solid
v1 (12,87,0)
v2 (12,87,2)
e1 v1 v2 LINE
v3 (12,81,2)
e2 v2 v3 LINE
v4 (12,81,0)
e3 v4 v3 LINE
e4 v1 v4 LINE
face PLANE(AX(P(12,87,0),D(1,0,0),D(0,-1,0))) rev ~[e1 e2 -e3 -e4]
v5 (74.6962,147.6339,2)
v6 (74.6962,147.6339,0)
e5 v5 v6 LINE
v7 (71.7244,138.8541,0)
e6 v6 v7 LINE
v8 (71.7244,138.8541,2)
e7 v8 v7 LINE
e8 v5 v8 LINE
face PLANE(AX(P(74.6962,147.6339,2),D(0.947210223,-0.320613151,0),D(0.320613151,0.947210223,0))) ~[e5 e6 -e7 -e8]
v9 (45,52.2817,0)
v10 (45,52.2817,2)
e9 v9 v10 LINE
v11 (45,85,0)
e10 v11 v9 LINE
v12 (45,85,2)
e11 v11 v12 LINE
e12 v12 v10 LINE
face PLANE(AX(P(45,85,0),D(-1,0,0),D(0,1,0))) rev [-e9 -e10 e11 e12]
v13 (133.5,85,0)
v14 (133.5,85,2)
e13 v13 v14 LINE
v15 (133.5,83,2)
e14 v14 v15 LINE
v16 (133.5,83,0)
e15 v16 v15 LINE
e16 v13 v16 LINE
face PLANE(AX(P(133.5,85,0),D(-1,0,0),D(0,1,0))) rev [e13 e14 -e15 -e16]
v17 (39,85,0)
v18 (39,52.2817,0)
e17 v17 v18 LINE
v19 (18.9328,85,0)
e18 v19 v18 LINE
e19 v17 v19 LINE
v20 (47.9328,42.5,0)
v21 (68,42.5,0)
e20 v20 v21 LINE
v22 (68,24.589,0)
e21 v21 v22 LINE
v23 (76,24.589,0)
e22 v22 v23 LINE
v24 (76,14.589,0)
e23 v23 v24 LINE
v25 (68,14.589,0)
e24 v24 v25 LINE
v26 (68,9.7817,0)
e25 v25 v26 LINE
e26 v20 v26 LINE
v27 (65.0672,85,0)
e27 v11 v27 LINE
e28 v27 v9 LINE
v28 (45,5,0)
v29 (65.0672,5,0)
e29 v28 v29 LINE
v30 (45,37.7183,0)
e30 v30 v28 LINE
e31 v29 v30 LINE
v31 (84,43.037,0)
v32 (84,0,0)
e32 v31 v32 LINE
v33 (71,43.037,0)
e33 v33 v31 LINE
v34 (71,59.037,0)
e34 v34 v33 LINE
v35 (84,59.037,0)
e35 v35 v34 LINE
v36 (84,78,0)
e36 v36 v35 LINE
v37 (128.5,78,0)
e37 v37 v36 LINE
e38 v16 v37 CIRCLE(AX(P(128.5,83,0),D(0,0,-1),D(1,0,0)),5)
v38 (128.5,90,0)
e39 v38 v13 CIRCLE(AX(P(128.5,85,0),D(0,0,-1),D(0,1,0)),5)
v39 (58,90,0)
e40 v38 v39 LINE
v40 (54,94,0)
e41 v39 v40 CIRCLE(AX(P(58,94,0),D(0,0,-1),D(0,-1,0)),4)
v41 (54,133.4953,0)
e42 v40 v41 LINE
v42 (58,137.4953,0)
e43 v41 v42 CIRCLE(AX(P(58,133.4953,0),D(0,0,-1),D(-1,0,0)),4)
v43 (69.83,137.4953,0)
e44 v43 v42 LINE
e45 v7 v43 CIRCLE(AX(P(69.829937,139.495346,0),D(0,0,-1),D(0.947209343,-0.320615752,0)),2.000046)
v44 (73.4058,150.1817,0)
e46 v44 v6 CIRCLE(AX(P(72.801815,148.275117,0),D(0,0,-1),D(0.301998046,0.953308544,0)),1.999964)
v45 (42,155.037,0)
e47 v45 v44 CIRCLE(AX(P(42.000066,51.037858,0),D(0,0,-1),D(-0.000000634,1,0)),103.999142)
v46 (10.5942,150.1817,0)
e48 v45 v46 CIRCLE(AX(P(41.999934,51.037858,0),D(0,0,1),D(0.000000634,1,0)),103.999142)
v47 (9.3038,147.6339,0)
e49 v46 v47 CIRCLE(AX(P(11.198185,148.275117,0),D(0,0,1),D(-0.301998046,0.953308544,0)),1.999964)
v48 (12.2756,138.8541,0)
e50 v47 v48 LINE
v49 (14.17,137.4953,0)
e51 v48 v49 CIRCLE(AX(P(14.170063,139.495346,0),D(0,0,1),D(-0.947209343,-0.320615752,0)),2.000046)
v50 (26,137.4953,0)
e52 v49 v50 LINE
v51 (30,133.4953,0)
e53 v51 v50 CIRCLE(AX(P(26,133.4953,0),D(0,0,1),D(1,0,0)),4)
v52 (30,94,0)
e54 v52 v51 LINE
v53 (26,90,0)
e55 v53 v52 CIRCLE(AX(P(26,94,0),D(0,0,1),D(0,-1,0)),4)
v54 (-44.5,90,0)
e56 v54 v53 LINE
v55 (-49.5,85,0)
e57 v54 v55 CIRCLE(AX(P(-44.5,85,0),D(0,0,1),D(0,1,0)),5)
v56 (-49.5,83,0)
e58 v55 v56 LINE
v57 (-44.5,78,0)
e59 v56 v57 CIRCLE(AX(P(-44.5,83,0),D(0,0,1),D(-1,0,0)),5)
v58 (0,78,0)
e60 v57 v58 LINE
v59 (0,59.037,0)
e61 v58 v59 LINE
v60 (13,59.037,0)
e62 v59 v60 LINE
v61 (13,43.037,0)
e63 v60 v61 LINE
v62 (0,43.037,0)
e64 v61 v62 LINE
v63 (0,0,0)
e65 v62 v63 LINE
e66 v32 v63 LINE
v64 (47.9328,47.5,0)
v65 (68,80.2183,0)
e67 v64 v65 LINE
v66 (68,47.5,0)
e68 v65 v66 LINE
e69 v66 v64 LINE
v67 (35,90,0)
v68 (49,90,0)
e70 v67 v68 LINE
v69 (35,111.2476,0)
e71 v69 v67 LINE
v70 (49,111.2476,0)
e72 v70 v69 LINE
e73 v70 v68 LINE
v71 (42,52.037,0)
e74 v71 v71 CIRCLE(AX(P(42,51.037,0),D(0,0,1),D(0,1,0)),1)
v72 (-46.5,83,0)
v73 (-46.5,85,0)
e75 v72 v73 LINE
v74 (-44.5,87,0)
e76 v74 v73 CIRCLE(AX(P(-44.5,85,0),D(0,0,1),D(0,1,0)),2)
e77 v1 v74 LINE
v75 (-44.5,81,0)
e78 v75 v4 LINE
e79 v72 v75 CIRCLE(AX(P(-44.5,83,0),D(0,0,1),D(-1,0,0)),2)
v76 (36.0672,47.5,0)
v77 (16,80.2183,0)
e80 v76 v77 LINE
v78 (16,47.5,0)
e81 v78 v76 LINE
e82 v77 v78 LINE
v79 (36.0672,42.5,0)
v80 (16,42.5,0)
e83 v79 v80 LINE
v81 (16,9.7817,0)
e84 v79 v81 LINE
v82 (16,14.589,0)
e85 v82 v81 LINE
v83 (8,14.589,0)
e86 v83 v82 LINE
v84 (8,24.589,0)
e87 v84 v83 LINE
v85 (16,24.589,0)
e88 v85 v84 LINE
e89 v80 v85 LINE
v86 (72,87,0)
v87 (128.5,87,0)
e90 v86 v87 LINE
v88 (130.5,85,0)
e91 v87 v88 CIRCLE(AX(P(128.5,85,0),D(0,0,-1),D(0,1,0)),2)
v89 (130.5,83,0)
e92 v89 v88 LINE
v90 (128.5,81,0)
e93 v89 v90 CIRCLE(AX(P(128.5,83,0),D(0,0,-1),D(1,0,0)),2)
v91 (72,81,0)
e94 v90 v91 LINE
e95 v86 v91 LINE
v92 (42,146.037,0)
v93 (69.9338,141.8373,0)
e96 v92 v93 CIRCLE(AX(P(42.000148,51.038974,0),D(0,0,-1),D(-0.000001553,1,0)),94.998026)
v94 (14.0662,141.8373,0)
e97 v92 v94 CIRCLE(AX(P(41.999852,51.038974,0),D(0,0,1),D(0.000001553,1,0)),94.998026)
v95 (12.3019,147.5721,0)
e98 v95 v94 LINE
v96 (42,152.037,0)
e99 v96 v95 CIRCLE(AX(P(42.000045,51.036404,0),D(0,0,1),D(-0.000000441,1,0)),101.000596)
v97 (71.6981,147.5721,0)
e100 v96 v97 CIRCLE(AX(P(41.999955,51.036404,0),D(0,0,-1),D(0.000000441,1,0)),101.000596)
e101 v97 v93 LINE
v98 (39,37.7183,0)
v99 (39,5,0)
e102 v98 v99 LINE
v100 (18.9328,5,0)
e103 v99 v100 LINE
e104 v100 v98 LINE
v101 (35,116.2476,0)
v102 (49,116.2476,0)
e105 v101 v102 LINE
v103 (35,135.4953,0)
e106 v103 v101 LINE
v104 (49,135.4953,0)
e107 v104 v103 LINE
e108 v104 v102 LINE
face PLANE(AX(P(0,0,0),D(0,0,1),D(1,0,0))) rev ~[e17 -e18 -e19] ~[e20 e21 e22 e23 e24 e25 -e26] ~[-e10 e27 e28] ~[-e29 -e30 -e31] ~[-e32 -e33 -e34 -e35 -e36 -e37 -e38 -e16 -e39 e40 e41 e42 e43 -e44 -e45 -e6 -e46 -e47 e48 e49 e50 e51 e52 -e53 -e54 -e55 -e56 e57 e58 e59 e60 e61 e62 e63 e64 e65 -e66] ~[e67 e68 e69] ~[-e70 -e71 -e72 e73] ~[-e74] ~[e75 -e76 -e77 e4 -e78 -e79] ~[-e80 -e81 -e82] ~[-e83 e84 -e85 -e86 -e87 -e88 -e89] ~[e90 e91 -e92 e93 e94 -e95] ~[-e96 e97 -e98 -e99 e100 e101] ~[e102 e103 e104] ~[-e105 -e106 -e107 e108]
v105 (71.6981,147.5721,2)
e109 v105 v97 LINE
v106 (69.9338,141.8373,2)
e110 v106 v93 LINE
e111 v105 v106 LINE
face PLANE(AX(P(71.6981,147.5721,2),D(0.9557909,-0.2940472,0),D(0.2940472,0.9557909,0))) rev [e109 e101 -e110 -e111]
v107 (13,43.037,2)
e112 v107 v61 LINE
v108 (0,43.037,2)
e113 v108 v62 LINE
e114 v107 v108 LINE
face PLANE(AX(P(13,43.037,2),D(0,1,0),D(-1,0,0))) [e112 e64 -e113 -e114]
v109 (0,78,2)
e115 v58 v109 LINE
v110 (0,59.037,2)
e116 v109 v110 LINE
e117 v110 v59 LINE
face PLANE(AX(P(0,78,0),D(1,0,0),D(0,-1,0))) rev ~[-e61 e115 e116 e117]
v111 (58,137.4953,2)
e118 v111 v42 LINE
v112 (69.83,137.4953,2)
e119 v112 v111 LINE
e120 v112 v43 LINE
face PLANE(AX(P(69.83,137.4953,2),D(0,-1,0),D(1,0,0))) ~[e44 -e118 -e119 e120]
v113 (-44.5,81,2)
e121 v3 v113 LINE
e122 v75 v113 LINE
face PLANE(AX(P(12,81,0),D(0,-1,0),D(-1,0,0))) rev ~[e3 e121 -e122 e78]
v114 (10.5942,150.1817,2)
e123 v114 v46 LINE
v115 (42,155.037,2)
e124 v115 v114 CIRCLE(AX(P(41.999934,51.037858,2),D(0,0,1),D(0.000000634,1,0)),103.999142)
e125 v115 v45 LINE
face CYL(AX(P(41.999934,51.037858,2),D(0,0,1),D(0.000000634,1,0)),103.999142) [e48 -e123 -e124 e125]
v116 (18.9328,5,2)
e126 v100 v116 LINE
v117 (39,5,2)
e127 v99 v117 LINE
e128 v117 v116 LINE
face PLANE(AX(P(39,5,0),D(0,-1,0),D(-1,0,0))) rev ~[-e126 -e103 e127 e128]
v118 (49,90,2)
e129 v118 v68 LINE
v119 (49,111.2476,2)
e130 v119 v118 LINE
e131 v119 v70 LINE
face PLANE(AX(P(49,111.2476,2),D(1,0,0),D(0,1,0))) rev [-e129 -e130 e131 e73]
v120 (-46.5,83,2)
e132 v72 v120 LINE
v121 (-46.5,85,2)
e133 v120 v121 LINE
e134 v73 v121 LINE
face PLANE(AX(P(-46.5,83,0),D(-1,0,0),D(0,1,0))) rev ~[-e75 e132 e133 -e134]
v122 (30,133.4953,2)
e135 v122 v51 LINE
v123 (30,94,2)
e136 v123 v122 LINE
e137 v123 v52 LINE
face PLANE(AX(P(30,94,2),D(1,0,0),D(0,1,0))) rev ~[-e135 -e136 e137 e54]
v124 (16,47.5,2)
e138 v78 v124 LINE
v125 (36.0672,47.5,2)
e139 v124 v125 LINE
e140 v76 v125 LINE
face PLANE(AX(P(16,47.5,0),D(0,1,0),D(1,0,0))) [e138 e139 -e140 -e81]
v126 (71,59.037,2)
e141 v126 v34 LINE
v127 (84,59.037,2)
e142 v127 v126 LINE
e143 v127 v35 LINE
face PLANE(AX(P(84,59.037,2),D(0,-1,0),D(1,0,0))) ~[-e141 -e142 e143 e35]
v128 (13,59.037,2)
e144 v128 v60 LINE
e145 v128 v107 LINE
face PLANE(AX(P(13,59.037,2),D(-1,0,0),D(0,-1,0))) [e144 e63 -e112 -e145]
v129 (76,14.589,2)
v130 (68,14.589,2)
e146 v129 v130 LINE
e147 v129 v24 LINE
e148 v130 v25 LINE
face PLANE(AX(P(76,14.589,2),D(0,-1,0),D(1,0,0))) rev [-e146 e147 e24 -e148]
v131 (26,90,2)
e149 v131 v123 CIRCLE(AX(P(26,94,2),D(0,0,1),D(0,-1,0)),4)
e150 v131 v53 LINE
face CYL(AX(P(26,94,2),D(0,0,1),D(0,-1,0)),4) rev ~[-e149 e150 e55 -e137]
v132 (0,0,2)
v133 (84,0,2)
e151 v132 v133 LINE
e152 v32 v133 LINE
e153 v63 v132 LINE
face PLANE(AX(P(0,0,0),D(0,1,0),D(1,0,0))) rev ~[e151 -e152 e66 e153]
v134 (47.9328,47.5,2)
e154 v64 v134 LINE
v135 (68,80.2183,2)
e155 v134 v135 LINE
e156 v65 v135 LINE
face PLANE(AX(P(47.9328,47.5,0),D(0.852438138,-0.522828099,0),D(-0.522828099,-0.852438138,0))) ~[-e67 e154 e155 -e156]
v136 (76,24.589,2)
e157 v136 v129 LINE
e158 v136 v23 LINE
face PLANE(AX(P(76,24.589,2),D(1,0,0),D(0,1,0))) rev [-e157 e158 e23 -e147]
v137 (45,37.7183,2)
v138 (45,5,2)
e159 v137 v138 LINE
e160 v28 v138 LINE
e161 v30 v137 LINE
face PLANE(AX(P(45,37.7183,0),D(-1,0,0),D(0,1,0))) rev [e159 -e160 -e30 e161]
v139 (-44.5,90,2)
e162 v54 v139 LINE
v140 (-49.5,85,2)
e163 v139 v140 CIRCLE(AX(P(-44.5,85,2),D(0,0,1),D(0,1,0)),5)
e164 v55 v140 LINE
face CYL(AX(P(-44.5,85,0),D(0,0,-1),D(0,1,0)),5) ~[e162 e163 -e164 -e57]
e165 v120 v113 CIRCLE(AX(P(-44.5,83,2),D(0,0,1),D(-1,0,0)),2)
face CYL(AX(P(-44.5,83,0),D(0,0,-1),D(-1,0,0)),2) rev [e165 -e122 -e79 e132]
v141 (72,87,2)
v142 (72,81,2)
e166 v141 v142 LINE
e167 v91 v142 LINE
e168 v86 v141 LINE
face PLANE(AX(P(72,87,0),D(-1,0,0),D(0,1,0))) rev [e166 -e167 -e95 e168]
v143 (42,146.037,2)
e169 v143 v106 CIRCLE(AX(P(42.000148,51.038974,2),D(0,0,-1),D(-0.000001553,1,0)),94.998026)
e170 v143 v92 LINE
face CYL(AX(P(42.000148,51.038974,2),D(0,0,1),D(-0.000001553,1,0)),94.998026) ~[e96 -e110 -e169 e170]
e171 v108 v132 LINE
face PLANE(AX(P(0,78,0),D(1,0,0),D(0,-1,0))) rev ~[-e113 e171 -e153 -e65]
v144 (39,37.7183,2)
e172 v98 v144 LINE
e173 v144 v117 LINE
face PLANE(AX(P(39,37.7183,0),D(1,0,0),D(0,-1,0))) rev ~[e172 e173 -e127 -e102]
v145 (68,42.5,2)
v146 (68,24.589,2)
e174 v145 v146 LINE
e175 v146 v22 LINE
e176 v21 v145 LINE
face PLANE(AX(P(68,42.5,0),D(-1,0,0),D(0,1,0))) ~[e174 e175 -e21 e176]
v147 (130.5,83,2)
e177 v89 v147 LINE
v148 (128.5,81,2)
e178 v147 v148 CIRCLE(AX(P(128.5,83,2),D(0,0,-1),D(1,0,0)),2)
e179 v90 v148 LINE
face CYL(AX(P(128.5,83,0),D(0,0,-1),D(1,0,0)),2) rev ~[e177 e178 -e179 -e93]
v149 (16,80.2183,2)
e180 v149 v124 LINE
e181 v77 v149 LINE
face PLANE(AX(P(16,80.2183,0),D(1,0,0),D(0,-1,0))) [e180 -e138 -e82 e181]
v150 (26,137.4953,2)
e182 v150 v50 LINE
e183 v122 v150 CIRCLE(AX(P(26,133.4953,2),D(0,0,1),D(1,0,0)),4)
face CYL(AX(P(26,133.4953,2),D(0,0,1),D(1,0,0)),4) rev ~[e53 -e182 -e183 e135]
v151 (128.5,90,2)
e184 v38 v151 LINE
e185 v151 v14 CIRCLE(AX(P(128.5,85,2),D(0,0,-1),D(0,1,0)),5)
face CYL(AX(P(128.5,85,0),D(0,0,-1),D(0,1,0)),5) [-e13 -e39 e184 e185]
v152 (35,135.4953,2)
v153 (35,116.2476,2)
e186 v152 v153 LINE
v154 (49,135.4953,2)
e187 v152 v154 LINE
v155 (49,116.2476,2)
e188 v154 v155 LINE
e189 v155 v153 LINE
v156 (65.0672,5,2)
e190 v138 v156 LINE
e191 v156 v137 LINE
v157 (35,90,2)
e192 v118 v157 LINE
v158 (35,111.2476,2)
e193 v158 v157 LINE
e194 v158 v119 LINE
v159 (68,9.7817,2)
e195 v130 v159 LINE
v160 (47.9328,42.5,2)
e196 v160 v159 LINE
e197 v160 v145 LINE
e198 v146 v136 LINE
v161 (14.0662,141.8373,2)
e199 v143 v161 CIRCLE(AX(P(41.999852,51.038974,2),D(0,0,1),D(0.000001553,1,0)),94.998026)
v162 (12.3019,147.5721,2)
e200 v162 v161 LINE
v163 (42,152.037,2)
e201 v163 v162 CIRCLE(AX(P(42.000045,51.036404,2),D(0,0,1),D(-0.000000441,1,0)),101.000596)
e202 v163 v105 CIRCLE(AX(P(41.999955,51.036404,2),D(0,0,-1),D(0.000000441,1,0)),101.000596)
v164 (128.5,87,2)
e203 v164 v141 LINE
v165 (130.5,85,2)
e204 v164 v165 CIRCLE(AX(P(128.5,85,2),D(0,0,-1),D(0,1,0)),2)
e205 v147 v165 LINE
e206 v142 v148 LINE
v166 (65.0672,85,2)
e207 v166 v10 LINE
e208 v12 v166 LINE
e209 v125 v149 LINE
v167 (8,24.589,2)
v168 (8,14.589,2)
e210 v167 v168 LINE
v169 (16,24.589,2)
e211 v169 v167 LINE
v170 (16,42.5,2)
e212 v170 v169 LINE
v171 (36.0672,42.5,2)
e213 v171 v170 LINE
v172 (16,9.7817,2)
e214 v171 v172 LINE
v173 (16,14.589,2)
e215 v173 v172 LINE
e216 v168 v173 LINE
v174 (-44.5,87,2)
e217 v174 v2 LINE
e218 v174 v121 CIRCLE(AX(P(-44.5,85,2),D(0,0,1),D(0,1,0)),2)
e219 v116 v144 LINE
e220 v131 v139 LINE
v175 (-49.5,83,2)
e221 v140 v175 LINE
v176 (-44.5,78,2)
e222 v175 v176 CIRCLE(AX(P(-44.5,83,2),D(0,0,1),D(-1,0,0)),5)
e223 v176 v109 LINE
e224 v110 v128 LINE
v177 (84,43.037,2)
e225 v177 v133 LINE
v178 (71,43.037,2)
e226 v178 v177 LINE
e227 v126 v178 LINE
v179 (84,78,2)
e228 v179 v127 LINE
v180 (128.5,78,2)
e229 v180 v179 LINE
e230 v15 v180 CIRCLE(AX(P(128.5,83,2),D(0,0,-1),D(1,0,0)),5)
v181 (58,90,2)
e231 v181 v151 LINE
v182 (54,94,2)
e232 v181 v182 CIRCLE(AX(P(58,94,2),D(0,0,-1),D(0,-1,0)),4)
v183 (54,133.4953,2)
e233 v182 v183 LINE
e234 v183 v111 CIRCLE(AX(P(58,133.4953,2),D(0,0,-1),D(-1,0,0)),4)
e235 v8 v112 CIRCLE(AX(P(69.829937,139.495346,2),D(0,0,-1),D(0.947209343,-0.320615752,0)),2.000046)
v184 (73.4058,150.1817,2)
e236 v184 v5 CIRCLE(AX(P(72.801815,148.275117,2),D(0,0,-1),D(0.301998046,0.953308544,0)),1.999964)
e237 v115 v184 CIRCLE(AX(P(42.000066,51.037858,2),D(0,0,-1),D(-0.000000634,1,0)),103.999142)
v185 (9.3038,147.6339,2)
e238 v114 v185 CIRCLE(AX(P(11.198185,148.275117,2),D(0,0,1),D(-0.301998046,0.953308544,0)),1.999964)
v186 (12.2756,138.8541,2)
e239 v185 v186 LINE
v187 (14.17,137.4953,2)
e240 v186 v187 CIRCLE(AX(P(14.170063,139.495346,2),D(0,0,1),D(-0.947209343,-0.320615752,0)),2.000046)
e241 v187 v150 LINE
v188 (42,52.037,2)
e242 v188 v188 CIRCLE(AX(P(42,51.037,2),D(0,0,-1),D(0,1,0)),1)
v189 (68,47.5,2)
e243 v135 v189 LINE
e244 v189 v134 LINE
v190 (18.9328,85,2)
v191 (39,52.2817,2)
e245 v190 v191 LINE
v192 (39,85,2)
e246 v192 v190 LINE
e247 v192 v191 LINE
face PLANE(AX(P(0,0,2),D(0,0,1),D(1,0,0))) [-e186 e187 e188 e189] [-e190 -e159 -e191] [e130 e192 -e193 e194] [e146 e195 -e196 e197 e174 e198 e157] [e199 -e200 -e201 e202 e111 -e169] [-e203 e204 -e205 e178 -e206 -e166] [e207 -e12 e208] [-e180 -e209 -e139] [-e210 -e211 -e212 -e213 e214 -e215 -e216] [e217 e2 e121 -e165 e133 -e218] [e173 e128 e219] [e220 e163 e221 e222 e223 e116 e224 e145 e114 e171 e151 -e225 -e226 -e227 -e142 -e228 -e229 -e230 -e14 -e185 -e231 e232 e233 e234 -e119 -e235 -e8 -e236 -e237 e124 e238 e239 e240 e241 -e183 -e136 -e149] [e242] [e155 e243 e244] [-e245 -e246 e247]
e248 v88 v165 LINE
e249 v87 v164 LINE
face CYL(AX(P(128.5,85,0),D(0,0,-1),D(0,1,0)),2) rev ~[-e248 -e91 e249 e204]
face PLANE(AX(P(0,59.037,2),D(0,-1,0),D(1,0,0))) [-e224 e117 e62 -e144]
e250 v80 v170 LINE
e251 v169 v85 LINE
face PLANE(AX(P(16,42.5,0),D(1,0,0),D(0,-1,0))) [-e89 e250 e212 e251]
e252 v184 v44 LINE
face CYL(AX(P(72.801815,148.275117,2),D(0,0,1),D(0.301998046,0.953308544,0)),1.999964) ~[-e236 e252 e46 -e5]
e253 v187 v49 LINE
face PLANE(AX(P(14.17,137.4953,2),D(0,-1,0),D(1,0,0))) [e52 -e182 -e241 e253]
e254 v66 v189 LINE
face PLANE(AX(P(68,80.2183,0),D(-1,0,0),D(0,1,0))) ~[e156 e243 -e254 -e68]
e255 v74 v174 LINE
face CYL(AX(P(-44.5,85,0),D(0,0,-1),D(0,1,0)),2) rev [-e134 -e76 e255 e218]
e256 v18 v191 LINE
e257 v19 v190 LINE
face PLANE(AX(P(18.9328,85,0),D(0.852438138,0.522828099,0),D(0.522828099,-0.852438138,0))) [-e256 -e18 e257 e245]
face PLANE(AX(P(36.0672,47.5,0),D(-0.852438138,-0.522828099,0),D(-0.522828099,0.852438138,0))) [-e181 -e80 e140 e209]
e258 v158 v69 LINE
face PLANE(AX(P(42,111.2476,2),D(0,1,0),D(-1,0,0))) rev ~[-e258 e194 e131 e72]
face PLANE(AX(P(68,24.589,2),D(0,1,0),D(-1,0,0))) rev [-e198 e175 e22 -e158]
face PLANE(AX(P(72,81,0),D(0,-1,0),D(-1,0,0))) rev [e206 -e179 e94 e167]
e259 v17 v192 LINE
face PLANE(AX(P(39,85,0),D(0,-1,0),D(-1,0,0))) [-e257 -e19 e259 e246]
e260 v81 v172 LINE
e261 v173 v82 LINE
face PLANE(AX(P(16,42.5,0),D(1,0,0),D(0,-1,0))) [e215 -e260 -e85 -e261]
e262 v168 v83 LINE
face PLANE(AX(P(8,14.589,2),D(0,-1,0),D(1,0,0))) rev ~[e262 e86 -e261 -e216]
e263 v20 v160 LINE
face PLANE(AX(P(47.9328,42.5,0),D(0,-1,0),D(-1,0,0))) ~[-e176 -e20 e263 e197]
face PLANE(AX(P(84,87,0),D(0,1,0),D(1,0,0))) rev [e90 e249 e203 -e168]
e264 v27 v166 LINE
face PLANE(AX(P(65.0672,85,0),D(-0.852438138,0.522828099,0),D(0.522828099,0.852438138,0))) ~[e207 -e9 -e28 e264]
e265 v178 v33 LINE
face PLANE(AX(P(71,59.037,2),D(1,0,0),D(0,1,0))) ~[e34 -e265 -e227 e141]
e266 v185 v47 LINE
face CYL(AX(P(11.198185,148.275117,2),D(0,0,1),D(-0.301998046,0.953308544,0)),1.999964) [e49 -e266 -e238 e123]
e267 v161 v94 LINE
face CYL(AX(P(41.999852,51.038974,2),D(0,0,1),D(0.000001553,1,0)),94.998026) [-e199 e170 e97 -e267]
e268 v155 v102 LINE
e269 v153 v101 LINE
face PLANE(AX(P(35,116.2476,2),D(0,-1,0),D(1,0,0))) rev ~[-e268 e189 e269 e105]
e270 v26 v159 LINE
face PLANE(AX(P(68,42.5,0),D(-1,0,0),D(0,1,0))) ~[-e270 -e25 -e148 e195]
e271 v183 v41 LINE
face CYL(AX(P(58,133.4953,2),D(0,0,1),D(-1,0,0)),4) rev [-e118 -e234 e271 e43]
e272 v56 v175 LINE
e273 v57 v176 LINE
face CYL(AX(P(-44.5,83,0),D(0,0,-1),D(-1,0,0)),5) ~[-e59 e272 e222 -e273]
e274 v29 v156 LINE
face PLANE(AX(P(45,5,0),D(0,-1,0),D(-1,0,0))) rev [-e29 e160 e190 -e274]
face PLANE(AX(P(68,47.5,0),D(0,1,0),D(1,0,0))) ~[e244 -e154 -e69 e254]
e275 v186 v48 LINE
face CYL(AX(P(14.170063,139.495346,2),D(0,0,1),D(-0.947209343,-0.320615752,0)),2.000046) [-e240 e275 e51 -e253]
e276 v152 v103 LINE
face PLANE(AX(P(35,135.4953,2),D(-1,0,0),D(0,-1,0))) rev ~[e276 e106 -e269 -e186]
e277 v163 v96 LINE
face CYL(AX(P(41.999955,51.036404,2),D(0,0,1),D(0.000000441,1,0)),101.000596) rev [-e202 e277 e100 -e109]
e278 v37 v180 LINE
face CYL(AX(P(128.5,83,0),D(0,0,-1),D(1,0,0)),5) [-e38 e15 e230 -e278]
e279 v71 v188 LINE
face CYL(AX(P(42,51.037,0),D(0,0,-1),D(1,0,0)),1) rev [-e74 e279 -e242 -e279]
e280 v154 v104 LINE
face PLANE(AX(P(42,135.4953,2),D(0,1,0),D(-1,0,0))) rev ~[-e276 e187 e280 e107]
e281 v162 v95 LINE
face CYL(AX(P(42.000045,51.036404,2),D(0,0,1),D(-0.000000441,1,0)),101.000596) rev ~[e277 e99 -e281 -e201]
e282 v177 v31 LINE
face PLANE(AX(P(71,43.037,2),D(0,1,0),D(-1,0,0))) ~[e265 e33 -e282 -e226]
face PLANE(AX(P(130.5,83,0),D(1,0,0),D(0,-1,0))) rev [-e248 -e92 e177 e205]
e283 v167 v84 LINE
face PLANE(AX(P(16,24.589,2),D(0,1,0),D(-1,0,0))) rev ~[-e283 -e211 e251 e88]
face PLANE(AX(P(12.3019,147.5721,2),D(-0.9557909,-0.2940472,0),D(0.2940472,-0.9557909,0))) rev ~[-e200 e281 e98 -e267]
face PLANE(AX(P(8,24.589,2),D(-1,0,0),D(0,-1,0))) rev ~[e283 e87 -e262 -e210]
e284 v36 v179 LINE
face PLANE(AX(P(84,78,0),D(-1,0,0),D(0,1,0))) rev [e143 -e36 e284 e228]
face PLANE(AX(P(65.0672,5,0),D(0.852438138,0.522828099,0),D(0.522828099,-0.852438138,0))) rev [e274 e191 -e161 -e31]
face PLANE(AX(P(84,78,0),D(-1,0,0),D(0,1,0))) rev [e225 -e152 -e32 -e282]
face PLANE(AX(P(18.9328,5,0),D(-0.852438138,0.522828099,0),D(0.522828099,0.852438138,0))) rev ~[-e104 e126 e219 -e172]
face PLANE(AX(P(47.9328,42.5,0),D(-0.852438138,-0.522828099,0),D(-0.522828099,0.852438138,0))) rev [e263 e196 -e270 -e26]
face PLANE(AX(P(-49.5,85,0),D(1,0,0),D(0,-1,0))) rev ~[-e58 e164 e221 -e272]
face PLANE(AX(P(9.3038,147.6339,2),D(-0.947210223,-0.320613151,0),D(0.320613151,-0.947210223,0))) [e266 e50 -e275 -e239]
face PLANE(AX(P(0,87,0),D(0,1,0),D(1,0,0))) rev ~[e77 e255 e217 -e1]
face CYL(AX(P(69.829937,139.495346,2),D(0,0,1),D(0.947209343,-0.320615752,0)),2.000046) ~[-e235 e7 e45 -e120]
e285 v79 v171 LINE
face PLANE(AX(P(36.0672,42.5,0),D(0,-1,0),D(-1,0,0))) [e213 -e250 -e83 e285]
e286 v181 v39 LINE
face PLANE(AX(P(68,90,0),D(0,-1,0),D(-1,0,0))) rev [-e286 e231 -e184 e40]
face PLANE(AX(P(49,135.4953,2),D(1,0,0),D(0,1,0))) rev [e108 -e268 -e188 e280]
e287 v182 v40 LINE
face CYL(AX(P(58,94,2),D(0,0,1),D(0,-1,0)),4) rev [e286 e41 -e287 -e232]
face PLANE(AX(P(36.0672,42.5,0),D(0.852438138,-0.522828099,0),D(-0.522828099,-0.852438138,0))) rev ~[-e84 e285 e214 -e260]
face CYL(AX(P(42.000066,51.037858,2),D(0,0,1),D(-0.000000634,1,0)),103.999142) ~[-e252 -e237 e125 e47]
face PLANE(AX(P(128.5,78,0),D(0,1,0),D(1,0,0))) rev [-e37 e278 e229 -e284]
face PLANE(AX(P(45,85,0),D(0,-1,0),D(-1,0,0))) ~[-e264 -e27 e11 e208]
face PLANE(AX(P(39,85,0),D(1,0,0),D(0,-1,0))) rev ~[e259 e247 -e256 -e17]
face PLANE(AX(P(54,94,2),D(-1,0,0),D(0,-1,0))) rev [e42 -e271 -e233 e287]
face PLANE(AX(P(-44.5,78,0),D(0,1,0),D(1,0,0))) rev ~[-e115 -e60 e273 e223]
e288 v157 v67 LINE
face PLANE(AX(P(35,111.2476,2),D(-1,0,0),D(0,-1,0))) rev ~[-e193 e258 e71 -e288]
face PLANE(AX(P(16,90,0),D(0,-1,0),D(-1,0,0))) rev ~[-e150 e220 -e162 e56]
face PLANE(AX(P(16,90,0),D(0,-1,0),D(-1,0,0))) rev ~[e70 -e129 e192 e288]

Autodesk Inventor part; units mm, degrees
ref_plane "YZ Plane" through (0, 0, 0) normal (1, 0, 0) x (0, 1, 0)
ref_plane "XZ Plane" through (0, 0, 0) normal (0, 1, 0) x (-1, 0, 0)
ref_plane "XY Plane" through (0, 0, 0) normal (0, 0, 1) x (1, 0, 0)
sketch "Sketch1" plane through (0, 0, 0) normal (0, 0, 1) x (1, 0, 0)
  line L0 (0, 0) -> (42, 0)
  line L1 (42, 0) -> (42, 90)
  line L2 (42, 90) -> (0, 90)
  line L3 (0, 90) -> (0, 0)
  line L4 (0, 90) -> (16, 90)
  line L5 (16, 90) -> (16, 0)
  line L6 (16, 0) -> (0, 0)
  line L7 (0, 0) -> (0, 90)
  line L8 (16, 90) -> (42, 90)
  line L9 (42, 90) -> (42, 85)
  line L10 (42, 85) -> (16, 85)
  line L11 (16, 85) -> (16, 90)
  line L12 (16, 0) -> (42, 0)
  line L13 (42, 0) -> (42, 5)
  line L14 (42, 5) -> (16, 5)
  line L15 (16, 5) -> (16, 0)
  line L16 (16, 47.5) -> (42, 47.5)
  line L17 (42, 47.5) -> (42, 42.5)
  line L18 (42, 42.5) -> (16, 42.5)
  line L19 (16, 42.5) -> (16, 47.5)
  line L20 (0, 90) -> (-44.5, 90)
  line L21 (-49.5, 85) -> (-49.5, 83)
  line L22 (-44.5, 78) -> (0, 78)
  line L23 (0, 78) -> (0, 90)
  arc A0 (-44.5, 90) -> (-49.5, 85) centre (-44.5, 85) ccw
  arc A1 (-49.5, 83) -> (-44.5, 78) centre (-44.5, 83) ccw
  line L24 (-44.5, 87) -> (-3, 87)
  line L25 (-3, 87) -> (-3, 81)
  line L26 (-3, 81) -> (-44.5, 81)
  arc A2 (-46.5, 83) -> (-44.5, 81) centre (-44.5, 83) ccw
  line L27 (-46.5, 83) -> (-46.5, 85)
  arc A3 (-44.5, 87) -> (-46.5, 85) centre (-44.5, 85) ccw
  line L28 (-3, 87) -> (12, 87)
  line L29 (12, 87) -> (12, 81)
  line L30 (12, 81) -> (-3, 81)
  line L31 (-3, 81) -> (-3, 87)
  line L32 (42, 85) -> (39, 85)
  line L33 (39, 85) -> (39, 5)
  line L34 (39, 5) -> (42, 5)
  line L35 (42, 5) -> (42, 85)
  circle A4 centre (42, 51.037) radius 1
  line L36 (16, 85) -> (39, 47.5) construction
  line L37 (39, 42.5) -> (16, 5) construction
  line L38 (18.9328, 85) -> (39, 52.2817)
  line L39 (36.0672, 47.5) -> (16, 80.2183)
  line L40 (36.0672, 42.5) -> (16, 9.7817)
  line L41 (18.9328, 5) -> (39, 37.7183)
  point P0 (16, 45)
  point P1 (16, 45)
  point P2 (-49.5, 78)
  point P3 (-49.5, 90)
  point P4 (27.5, 23.75)
  point P5 (16, 42.5)
  point P6 (0, 78)
  point P7 (42, 50.037)
  point P8 (42, 52.037)
  dimension "d0" = 42
  dimension "d1" = 90
  dimension "d2" = 16
  dimension "d3" = 5
  dimension "d4" = 26
  dimension "d5" = 5
  dimension "d6" = 26
  dimension "d7" = 5
  dimension "d8" = 49.5
  dimension "d9" = 12
  dimension "d10" = 5
  dimension "d11" = 3
  dimension "d12" = 15
  dimension "d13" = 6
  dimension "d14" = 3
  dimension "d17" = 2
  dimension "d19" = 38.963
  dimension "d20" = 2.5
  dimension "d21" = 2.5
  dimension "d22" = 2.5
  dimension "d23" = 2.5
extrude "Extrusion1" add sketch "Sketch1" along normal blind 2 contours L3 L30 L29 L28 L2 L5 L0 | L5 L14 L1 L0 | L22 A1 L21 A0 L20 L3 L28 L24 A3 L27 A2 L26 L30 | L5 L40 L18 L33 L41 L14 | L14 L33 L18 L1 | L18 L33 L16 L1 | L5 L16 L33 L18 | L16 L33 L10 L1 A4 | L2 L1 L10 L5 | L16 L39 L5 L10 L38 L33
sketch "Sketch2" plane through (0, 0, 2) normal (0, 0, 1) x (1, 0, 0)
  arc A0 (42, 52.037) -> (42, 50.037) centre (42, 51.037) ccw projected
  circle A1 centre (42, 51.037) radius 104 construction
  circle A2 centre (42, 51.037) radius 101 construction
  circle A3 centre (42, 51.037) radius 95 construction
  circle A4 centre (42, 51.037) radius 93 construction
  line L0 (42, 90) -> (-44.5, 90) projected
  line L1 (42, 90) -> (42, -52.963)
  line L2 (42, 155.037) -> (42, 90)
  line L3 (42, 51.037) -> (8.6562, 149.5469) construction
  line L4 (42, 51.037) -> (146, 51.037) construction
  line L5 (42, 51.037) -> (13.2923, 139.4953) construction
  line L6 (42, 51.037) -> (135, 51.037) construction
  line L7 (42, 51.037) -> (12.3019, 147.5721) construction
  line L8 (42, 51.037) -> (143, 51.037) construction
  line L9 (12.3019, 147.5721) -> (14.0662, 141.8373)
  arc A5 (42, 152.037) -> (12.3019, 147.5721) centre (42, 51.037) ccw
  arc A6 (42, 146.037) -> (14.0662, 141.8373) centre (42, 51.037) ccw
  line L10 (14.0662, 141.8373) -> (16.0662, 141.8373) construction
  line L11 (13.2923, 139.4953) -> (13.2923, 137.4953) construction
  line L12 (9.3038, 147.6339) -> (12.2756, 138.8541)
  arc A7 (42, 155.037) -> (10.5942, 150.1817) centre (42, 51.037) ccw
  line L13 (42, 90) -> (30, 90)
  line L14 (30, 94) -> (30, 133.4953)
  line L15 (30, 137.4953) -> (42, 137.4953)
  line L16 (42, 137.4953) -> (42, 90)
  line L17 (14.17, 137.4953) -> (26, 137.4953)
  line L18 (30, 137.4953) -> (35, 137.4953)
  line L19 (35, 137.4953) -> (35, 90)
  line L20 (35, 90) -> (30, 90)
  line L21 (30, 90) -> (30, 137.4953)
  line L22 (35, 137.4953) -> (42, 137.4953)
  line L23 (42, 137.4953) -> (42, 135.4953)
  line L24 (42, 135.4953) -> (35, 135.4953)
  line L25 (35, 135.4953) -> (35, 137.4953)
  line L26 (35, 116.2476) -> (42, 116.2476)
  line L27 (42, 116.2476) -> (42, 111.2476)
  line L28 (42, 111.2476) -> (35, 111.2476)
  line L29 (35, 111.2476) -> (35, 116.2476)
  arc A8 (10.5942, 150.1817) -> (9.3038, 147.6339) centre (11.1982, 148.2751) ccw
  arc A9 (12.2756, 138.8541) -> (14.17, 137.4953) centre (14.17, 139.4953) ccw
  line L30 (26, 90) -> (26, 90)
  arc A10 (26, 90) -> (30, 94) centre (26, 94) ccw
  arc A11 (30, 133.4953) -> (26, 137.4953) centre (26, 133.4953) ccw
  point P0 (0, 0)
  point P1 (12.7355, 137.4953)
  point P2 (35, 113.7476)
  point P3 (35, 113.7476)
  point P4 (42, 152.037)
  dimension "d27" = 202
  dimension "d29" = 186
  dimension "d26" = 208
  dimension "d28" = 190
  dimension "d30" = 108.7
  dimension "d31" = 107.98
  dimension "d32" = 101
  dimension "d33" = 107.1
  dimension "d36" = 2
  dimension "d37" = 12
  dimension "d38" = 5
  dimension "d39" = 2
  dimension "d40" = 7
  dimension "d41" = 5
  dimension "d42" = 2
  dimension "d43" = 2
  dimension "d44" = 4
  dimension "d45" = 4
extrude "Extrusion2" add sketch "Sketch2" against normal blind 2 contours L0 L21 L14 L15 L19 | L28 L19 L26 L2 | L0 A10 L21 | L24 L19 L15 L2 | A11 L17 A9 L12 A8 A7 L2 A5 L9 A6 L15 L21
sketch "Sketch3" plane through (0, 0, 2) normal (0, 0, 1) x (1, 0, 0)
  line L0 (0, 59.037) -> (13, 59.037)
  line L1 (13, 59.037) -> (13, 43.037)
  line L2 (13, 43.037) -> (0, 43.037)
  line L3 (0, 43.037) -> (0, 59.037)
  line L4 (12, 81) -> (-44.5, 81) projected
  line L5 (0, 78) -> (0, 0) projected
  line L6 (16, 9.7817) -> (16, 42.5) projected
  line L7 (16, 24.589) -> (8, 24.589)
  line L8 (8, 24.589) -> (8, 14.589)
  line L9 (8, 14.589) -> (16, 14.589)
  line L10 (16, 14.589) -> (16, 24.589)
  line L11 (0, 0) -> (42, 0) projected
  line L12 (26, 90) -> (-44.5, 90) projected
  point P0 (0, 51.037)
  point P1 (16, 19.589)
  dimension "d48" = 13
  dimension "d49" = 16
  dimension "d51" = 0
  dimension "d52" = 8
  dimension "d53" = 10
  dimension "d54" = 19.589
  dimension "d55" = 38.963
extrude "Extrusion3" cut sketch "Sketch3" against normal through all
mirror "Mirror2" about plane through (42, 52.037, 0) normal (1, 0, 0)
properties part number "StructureV2Laser"
